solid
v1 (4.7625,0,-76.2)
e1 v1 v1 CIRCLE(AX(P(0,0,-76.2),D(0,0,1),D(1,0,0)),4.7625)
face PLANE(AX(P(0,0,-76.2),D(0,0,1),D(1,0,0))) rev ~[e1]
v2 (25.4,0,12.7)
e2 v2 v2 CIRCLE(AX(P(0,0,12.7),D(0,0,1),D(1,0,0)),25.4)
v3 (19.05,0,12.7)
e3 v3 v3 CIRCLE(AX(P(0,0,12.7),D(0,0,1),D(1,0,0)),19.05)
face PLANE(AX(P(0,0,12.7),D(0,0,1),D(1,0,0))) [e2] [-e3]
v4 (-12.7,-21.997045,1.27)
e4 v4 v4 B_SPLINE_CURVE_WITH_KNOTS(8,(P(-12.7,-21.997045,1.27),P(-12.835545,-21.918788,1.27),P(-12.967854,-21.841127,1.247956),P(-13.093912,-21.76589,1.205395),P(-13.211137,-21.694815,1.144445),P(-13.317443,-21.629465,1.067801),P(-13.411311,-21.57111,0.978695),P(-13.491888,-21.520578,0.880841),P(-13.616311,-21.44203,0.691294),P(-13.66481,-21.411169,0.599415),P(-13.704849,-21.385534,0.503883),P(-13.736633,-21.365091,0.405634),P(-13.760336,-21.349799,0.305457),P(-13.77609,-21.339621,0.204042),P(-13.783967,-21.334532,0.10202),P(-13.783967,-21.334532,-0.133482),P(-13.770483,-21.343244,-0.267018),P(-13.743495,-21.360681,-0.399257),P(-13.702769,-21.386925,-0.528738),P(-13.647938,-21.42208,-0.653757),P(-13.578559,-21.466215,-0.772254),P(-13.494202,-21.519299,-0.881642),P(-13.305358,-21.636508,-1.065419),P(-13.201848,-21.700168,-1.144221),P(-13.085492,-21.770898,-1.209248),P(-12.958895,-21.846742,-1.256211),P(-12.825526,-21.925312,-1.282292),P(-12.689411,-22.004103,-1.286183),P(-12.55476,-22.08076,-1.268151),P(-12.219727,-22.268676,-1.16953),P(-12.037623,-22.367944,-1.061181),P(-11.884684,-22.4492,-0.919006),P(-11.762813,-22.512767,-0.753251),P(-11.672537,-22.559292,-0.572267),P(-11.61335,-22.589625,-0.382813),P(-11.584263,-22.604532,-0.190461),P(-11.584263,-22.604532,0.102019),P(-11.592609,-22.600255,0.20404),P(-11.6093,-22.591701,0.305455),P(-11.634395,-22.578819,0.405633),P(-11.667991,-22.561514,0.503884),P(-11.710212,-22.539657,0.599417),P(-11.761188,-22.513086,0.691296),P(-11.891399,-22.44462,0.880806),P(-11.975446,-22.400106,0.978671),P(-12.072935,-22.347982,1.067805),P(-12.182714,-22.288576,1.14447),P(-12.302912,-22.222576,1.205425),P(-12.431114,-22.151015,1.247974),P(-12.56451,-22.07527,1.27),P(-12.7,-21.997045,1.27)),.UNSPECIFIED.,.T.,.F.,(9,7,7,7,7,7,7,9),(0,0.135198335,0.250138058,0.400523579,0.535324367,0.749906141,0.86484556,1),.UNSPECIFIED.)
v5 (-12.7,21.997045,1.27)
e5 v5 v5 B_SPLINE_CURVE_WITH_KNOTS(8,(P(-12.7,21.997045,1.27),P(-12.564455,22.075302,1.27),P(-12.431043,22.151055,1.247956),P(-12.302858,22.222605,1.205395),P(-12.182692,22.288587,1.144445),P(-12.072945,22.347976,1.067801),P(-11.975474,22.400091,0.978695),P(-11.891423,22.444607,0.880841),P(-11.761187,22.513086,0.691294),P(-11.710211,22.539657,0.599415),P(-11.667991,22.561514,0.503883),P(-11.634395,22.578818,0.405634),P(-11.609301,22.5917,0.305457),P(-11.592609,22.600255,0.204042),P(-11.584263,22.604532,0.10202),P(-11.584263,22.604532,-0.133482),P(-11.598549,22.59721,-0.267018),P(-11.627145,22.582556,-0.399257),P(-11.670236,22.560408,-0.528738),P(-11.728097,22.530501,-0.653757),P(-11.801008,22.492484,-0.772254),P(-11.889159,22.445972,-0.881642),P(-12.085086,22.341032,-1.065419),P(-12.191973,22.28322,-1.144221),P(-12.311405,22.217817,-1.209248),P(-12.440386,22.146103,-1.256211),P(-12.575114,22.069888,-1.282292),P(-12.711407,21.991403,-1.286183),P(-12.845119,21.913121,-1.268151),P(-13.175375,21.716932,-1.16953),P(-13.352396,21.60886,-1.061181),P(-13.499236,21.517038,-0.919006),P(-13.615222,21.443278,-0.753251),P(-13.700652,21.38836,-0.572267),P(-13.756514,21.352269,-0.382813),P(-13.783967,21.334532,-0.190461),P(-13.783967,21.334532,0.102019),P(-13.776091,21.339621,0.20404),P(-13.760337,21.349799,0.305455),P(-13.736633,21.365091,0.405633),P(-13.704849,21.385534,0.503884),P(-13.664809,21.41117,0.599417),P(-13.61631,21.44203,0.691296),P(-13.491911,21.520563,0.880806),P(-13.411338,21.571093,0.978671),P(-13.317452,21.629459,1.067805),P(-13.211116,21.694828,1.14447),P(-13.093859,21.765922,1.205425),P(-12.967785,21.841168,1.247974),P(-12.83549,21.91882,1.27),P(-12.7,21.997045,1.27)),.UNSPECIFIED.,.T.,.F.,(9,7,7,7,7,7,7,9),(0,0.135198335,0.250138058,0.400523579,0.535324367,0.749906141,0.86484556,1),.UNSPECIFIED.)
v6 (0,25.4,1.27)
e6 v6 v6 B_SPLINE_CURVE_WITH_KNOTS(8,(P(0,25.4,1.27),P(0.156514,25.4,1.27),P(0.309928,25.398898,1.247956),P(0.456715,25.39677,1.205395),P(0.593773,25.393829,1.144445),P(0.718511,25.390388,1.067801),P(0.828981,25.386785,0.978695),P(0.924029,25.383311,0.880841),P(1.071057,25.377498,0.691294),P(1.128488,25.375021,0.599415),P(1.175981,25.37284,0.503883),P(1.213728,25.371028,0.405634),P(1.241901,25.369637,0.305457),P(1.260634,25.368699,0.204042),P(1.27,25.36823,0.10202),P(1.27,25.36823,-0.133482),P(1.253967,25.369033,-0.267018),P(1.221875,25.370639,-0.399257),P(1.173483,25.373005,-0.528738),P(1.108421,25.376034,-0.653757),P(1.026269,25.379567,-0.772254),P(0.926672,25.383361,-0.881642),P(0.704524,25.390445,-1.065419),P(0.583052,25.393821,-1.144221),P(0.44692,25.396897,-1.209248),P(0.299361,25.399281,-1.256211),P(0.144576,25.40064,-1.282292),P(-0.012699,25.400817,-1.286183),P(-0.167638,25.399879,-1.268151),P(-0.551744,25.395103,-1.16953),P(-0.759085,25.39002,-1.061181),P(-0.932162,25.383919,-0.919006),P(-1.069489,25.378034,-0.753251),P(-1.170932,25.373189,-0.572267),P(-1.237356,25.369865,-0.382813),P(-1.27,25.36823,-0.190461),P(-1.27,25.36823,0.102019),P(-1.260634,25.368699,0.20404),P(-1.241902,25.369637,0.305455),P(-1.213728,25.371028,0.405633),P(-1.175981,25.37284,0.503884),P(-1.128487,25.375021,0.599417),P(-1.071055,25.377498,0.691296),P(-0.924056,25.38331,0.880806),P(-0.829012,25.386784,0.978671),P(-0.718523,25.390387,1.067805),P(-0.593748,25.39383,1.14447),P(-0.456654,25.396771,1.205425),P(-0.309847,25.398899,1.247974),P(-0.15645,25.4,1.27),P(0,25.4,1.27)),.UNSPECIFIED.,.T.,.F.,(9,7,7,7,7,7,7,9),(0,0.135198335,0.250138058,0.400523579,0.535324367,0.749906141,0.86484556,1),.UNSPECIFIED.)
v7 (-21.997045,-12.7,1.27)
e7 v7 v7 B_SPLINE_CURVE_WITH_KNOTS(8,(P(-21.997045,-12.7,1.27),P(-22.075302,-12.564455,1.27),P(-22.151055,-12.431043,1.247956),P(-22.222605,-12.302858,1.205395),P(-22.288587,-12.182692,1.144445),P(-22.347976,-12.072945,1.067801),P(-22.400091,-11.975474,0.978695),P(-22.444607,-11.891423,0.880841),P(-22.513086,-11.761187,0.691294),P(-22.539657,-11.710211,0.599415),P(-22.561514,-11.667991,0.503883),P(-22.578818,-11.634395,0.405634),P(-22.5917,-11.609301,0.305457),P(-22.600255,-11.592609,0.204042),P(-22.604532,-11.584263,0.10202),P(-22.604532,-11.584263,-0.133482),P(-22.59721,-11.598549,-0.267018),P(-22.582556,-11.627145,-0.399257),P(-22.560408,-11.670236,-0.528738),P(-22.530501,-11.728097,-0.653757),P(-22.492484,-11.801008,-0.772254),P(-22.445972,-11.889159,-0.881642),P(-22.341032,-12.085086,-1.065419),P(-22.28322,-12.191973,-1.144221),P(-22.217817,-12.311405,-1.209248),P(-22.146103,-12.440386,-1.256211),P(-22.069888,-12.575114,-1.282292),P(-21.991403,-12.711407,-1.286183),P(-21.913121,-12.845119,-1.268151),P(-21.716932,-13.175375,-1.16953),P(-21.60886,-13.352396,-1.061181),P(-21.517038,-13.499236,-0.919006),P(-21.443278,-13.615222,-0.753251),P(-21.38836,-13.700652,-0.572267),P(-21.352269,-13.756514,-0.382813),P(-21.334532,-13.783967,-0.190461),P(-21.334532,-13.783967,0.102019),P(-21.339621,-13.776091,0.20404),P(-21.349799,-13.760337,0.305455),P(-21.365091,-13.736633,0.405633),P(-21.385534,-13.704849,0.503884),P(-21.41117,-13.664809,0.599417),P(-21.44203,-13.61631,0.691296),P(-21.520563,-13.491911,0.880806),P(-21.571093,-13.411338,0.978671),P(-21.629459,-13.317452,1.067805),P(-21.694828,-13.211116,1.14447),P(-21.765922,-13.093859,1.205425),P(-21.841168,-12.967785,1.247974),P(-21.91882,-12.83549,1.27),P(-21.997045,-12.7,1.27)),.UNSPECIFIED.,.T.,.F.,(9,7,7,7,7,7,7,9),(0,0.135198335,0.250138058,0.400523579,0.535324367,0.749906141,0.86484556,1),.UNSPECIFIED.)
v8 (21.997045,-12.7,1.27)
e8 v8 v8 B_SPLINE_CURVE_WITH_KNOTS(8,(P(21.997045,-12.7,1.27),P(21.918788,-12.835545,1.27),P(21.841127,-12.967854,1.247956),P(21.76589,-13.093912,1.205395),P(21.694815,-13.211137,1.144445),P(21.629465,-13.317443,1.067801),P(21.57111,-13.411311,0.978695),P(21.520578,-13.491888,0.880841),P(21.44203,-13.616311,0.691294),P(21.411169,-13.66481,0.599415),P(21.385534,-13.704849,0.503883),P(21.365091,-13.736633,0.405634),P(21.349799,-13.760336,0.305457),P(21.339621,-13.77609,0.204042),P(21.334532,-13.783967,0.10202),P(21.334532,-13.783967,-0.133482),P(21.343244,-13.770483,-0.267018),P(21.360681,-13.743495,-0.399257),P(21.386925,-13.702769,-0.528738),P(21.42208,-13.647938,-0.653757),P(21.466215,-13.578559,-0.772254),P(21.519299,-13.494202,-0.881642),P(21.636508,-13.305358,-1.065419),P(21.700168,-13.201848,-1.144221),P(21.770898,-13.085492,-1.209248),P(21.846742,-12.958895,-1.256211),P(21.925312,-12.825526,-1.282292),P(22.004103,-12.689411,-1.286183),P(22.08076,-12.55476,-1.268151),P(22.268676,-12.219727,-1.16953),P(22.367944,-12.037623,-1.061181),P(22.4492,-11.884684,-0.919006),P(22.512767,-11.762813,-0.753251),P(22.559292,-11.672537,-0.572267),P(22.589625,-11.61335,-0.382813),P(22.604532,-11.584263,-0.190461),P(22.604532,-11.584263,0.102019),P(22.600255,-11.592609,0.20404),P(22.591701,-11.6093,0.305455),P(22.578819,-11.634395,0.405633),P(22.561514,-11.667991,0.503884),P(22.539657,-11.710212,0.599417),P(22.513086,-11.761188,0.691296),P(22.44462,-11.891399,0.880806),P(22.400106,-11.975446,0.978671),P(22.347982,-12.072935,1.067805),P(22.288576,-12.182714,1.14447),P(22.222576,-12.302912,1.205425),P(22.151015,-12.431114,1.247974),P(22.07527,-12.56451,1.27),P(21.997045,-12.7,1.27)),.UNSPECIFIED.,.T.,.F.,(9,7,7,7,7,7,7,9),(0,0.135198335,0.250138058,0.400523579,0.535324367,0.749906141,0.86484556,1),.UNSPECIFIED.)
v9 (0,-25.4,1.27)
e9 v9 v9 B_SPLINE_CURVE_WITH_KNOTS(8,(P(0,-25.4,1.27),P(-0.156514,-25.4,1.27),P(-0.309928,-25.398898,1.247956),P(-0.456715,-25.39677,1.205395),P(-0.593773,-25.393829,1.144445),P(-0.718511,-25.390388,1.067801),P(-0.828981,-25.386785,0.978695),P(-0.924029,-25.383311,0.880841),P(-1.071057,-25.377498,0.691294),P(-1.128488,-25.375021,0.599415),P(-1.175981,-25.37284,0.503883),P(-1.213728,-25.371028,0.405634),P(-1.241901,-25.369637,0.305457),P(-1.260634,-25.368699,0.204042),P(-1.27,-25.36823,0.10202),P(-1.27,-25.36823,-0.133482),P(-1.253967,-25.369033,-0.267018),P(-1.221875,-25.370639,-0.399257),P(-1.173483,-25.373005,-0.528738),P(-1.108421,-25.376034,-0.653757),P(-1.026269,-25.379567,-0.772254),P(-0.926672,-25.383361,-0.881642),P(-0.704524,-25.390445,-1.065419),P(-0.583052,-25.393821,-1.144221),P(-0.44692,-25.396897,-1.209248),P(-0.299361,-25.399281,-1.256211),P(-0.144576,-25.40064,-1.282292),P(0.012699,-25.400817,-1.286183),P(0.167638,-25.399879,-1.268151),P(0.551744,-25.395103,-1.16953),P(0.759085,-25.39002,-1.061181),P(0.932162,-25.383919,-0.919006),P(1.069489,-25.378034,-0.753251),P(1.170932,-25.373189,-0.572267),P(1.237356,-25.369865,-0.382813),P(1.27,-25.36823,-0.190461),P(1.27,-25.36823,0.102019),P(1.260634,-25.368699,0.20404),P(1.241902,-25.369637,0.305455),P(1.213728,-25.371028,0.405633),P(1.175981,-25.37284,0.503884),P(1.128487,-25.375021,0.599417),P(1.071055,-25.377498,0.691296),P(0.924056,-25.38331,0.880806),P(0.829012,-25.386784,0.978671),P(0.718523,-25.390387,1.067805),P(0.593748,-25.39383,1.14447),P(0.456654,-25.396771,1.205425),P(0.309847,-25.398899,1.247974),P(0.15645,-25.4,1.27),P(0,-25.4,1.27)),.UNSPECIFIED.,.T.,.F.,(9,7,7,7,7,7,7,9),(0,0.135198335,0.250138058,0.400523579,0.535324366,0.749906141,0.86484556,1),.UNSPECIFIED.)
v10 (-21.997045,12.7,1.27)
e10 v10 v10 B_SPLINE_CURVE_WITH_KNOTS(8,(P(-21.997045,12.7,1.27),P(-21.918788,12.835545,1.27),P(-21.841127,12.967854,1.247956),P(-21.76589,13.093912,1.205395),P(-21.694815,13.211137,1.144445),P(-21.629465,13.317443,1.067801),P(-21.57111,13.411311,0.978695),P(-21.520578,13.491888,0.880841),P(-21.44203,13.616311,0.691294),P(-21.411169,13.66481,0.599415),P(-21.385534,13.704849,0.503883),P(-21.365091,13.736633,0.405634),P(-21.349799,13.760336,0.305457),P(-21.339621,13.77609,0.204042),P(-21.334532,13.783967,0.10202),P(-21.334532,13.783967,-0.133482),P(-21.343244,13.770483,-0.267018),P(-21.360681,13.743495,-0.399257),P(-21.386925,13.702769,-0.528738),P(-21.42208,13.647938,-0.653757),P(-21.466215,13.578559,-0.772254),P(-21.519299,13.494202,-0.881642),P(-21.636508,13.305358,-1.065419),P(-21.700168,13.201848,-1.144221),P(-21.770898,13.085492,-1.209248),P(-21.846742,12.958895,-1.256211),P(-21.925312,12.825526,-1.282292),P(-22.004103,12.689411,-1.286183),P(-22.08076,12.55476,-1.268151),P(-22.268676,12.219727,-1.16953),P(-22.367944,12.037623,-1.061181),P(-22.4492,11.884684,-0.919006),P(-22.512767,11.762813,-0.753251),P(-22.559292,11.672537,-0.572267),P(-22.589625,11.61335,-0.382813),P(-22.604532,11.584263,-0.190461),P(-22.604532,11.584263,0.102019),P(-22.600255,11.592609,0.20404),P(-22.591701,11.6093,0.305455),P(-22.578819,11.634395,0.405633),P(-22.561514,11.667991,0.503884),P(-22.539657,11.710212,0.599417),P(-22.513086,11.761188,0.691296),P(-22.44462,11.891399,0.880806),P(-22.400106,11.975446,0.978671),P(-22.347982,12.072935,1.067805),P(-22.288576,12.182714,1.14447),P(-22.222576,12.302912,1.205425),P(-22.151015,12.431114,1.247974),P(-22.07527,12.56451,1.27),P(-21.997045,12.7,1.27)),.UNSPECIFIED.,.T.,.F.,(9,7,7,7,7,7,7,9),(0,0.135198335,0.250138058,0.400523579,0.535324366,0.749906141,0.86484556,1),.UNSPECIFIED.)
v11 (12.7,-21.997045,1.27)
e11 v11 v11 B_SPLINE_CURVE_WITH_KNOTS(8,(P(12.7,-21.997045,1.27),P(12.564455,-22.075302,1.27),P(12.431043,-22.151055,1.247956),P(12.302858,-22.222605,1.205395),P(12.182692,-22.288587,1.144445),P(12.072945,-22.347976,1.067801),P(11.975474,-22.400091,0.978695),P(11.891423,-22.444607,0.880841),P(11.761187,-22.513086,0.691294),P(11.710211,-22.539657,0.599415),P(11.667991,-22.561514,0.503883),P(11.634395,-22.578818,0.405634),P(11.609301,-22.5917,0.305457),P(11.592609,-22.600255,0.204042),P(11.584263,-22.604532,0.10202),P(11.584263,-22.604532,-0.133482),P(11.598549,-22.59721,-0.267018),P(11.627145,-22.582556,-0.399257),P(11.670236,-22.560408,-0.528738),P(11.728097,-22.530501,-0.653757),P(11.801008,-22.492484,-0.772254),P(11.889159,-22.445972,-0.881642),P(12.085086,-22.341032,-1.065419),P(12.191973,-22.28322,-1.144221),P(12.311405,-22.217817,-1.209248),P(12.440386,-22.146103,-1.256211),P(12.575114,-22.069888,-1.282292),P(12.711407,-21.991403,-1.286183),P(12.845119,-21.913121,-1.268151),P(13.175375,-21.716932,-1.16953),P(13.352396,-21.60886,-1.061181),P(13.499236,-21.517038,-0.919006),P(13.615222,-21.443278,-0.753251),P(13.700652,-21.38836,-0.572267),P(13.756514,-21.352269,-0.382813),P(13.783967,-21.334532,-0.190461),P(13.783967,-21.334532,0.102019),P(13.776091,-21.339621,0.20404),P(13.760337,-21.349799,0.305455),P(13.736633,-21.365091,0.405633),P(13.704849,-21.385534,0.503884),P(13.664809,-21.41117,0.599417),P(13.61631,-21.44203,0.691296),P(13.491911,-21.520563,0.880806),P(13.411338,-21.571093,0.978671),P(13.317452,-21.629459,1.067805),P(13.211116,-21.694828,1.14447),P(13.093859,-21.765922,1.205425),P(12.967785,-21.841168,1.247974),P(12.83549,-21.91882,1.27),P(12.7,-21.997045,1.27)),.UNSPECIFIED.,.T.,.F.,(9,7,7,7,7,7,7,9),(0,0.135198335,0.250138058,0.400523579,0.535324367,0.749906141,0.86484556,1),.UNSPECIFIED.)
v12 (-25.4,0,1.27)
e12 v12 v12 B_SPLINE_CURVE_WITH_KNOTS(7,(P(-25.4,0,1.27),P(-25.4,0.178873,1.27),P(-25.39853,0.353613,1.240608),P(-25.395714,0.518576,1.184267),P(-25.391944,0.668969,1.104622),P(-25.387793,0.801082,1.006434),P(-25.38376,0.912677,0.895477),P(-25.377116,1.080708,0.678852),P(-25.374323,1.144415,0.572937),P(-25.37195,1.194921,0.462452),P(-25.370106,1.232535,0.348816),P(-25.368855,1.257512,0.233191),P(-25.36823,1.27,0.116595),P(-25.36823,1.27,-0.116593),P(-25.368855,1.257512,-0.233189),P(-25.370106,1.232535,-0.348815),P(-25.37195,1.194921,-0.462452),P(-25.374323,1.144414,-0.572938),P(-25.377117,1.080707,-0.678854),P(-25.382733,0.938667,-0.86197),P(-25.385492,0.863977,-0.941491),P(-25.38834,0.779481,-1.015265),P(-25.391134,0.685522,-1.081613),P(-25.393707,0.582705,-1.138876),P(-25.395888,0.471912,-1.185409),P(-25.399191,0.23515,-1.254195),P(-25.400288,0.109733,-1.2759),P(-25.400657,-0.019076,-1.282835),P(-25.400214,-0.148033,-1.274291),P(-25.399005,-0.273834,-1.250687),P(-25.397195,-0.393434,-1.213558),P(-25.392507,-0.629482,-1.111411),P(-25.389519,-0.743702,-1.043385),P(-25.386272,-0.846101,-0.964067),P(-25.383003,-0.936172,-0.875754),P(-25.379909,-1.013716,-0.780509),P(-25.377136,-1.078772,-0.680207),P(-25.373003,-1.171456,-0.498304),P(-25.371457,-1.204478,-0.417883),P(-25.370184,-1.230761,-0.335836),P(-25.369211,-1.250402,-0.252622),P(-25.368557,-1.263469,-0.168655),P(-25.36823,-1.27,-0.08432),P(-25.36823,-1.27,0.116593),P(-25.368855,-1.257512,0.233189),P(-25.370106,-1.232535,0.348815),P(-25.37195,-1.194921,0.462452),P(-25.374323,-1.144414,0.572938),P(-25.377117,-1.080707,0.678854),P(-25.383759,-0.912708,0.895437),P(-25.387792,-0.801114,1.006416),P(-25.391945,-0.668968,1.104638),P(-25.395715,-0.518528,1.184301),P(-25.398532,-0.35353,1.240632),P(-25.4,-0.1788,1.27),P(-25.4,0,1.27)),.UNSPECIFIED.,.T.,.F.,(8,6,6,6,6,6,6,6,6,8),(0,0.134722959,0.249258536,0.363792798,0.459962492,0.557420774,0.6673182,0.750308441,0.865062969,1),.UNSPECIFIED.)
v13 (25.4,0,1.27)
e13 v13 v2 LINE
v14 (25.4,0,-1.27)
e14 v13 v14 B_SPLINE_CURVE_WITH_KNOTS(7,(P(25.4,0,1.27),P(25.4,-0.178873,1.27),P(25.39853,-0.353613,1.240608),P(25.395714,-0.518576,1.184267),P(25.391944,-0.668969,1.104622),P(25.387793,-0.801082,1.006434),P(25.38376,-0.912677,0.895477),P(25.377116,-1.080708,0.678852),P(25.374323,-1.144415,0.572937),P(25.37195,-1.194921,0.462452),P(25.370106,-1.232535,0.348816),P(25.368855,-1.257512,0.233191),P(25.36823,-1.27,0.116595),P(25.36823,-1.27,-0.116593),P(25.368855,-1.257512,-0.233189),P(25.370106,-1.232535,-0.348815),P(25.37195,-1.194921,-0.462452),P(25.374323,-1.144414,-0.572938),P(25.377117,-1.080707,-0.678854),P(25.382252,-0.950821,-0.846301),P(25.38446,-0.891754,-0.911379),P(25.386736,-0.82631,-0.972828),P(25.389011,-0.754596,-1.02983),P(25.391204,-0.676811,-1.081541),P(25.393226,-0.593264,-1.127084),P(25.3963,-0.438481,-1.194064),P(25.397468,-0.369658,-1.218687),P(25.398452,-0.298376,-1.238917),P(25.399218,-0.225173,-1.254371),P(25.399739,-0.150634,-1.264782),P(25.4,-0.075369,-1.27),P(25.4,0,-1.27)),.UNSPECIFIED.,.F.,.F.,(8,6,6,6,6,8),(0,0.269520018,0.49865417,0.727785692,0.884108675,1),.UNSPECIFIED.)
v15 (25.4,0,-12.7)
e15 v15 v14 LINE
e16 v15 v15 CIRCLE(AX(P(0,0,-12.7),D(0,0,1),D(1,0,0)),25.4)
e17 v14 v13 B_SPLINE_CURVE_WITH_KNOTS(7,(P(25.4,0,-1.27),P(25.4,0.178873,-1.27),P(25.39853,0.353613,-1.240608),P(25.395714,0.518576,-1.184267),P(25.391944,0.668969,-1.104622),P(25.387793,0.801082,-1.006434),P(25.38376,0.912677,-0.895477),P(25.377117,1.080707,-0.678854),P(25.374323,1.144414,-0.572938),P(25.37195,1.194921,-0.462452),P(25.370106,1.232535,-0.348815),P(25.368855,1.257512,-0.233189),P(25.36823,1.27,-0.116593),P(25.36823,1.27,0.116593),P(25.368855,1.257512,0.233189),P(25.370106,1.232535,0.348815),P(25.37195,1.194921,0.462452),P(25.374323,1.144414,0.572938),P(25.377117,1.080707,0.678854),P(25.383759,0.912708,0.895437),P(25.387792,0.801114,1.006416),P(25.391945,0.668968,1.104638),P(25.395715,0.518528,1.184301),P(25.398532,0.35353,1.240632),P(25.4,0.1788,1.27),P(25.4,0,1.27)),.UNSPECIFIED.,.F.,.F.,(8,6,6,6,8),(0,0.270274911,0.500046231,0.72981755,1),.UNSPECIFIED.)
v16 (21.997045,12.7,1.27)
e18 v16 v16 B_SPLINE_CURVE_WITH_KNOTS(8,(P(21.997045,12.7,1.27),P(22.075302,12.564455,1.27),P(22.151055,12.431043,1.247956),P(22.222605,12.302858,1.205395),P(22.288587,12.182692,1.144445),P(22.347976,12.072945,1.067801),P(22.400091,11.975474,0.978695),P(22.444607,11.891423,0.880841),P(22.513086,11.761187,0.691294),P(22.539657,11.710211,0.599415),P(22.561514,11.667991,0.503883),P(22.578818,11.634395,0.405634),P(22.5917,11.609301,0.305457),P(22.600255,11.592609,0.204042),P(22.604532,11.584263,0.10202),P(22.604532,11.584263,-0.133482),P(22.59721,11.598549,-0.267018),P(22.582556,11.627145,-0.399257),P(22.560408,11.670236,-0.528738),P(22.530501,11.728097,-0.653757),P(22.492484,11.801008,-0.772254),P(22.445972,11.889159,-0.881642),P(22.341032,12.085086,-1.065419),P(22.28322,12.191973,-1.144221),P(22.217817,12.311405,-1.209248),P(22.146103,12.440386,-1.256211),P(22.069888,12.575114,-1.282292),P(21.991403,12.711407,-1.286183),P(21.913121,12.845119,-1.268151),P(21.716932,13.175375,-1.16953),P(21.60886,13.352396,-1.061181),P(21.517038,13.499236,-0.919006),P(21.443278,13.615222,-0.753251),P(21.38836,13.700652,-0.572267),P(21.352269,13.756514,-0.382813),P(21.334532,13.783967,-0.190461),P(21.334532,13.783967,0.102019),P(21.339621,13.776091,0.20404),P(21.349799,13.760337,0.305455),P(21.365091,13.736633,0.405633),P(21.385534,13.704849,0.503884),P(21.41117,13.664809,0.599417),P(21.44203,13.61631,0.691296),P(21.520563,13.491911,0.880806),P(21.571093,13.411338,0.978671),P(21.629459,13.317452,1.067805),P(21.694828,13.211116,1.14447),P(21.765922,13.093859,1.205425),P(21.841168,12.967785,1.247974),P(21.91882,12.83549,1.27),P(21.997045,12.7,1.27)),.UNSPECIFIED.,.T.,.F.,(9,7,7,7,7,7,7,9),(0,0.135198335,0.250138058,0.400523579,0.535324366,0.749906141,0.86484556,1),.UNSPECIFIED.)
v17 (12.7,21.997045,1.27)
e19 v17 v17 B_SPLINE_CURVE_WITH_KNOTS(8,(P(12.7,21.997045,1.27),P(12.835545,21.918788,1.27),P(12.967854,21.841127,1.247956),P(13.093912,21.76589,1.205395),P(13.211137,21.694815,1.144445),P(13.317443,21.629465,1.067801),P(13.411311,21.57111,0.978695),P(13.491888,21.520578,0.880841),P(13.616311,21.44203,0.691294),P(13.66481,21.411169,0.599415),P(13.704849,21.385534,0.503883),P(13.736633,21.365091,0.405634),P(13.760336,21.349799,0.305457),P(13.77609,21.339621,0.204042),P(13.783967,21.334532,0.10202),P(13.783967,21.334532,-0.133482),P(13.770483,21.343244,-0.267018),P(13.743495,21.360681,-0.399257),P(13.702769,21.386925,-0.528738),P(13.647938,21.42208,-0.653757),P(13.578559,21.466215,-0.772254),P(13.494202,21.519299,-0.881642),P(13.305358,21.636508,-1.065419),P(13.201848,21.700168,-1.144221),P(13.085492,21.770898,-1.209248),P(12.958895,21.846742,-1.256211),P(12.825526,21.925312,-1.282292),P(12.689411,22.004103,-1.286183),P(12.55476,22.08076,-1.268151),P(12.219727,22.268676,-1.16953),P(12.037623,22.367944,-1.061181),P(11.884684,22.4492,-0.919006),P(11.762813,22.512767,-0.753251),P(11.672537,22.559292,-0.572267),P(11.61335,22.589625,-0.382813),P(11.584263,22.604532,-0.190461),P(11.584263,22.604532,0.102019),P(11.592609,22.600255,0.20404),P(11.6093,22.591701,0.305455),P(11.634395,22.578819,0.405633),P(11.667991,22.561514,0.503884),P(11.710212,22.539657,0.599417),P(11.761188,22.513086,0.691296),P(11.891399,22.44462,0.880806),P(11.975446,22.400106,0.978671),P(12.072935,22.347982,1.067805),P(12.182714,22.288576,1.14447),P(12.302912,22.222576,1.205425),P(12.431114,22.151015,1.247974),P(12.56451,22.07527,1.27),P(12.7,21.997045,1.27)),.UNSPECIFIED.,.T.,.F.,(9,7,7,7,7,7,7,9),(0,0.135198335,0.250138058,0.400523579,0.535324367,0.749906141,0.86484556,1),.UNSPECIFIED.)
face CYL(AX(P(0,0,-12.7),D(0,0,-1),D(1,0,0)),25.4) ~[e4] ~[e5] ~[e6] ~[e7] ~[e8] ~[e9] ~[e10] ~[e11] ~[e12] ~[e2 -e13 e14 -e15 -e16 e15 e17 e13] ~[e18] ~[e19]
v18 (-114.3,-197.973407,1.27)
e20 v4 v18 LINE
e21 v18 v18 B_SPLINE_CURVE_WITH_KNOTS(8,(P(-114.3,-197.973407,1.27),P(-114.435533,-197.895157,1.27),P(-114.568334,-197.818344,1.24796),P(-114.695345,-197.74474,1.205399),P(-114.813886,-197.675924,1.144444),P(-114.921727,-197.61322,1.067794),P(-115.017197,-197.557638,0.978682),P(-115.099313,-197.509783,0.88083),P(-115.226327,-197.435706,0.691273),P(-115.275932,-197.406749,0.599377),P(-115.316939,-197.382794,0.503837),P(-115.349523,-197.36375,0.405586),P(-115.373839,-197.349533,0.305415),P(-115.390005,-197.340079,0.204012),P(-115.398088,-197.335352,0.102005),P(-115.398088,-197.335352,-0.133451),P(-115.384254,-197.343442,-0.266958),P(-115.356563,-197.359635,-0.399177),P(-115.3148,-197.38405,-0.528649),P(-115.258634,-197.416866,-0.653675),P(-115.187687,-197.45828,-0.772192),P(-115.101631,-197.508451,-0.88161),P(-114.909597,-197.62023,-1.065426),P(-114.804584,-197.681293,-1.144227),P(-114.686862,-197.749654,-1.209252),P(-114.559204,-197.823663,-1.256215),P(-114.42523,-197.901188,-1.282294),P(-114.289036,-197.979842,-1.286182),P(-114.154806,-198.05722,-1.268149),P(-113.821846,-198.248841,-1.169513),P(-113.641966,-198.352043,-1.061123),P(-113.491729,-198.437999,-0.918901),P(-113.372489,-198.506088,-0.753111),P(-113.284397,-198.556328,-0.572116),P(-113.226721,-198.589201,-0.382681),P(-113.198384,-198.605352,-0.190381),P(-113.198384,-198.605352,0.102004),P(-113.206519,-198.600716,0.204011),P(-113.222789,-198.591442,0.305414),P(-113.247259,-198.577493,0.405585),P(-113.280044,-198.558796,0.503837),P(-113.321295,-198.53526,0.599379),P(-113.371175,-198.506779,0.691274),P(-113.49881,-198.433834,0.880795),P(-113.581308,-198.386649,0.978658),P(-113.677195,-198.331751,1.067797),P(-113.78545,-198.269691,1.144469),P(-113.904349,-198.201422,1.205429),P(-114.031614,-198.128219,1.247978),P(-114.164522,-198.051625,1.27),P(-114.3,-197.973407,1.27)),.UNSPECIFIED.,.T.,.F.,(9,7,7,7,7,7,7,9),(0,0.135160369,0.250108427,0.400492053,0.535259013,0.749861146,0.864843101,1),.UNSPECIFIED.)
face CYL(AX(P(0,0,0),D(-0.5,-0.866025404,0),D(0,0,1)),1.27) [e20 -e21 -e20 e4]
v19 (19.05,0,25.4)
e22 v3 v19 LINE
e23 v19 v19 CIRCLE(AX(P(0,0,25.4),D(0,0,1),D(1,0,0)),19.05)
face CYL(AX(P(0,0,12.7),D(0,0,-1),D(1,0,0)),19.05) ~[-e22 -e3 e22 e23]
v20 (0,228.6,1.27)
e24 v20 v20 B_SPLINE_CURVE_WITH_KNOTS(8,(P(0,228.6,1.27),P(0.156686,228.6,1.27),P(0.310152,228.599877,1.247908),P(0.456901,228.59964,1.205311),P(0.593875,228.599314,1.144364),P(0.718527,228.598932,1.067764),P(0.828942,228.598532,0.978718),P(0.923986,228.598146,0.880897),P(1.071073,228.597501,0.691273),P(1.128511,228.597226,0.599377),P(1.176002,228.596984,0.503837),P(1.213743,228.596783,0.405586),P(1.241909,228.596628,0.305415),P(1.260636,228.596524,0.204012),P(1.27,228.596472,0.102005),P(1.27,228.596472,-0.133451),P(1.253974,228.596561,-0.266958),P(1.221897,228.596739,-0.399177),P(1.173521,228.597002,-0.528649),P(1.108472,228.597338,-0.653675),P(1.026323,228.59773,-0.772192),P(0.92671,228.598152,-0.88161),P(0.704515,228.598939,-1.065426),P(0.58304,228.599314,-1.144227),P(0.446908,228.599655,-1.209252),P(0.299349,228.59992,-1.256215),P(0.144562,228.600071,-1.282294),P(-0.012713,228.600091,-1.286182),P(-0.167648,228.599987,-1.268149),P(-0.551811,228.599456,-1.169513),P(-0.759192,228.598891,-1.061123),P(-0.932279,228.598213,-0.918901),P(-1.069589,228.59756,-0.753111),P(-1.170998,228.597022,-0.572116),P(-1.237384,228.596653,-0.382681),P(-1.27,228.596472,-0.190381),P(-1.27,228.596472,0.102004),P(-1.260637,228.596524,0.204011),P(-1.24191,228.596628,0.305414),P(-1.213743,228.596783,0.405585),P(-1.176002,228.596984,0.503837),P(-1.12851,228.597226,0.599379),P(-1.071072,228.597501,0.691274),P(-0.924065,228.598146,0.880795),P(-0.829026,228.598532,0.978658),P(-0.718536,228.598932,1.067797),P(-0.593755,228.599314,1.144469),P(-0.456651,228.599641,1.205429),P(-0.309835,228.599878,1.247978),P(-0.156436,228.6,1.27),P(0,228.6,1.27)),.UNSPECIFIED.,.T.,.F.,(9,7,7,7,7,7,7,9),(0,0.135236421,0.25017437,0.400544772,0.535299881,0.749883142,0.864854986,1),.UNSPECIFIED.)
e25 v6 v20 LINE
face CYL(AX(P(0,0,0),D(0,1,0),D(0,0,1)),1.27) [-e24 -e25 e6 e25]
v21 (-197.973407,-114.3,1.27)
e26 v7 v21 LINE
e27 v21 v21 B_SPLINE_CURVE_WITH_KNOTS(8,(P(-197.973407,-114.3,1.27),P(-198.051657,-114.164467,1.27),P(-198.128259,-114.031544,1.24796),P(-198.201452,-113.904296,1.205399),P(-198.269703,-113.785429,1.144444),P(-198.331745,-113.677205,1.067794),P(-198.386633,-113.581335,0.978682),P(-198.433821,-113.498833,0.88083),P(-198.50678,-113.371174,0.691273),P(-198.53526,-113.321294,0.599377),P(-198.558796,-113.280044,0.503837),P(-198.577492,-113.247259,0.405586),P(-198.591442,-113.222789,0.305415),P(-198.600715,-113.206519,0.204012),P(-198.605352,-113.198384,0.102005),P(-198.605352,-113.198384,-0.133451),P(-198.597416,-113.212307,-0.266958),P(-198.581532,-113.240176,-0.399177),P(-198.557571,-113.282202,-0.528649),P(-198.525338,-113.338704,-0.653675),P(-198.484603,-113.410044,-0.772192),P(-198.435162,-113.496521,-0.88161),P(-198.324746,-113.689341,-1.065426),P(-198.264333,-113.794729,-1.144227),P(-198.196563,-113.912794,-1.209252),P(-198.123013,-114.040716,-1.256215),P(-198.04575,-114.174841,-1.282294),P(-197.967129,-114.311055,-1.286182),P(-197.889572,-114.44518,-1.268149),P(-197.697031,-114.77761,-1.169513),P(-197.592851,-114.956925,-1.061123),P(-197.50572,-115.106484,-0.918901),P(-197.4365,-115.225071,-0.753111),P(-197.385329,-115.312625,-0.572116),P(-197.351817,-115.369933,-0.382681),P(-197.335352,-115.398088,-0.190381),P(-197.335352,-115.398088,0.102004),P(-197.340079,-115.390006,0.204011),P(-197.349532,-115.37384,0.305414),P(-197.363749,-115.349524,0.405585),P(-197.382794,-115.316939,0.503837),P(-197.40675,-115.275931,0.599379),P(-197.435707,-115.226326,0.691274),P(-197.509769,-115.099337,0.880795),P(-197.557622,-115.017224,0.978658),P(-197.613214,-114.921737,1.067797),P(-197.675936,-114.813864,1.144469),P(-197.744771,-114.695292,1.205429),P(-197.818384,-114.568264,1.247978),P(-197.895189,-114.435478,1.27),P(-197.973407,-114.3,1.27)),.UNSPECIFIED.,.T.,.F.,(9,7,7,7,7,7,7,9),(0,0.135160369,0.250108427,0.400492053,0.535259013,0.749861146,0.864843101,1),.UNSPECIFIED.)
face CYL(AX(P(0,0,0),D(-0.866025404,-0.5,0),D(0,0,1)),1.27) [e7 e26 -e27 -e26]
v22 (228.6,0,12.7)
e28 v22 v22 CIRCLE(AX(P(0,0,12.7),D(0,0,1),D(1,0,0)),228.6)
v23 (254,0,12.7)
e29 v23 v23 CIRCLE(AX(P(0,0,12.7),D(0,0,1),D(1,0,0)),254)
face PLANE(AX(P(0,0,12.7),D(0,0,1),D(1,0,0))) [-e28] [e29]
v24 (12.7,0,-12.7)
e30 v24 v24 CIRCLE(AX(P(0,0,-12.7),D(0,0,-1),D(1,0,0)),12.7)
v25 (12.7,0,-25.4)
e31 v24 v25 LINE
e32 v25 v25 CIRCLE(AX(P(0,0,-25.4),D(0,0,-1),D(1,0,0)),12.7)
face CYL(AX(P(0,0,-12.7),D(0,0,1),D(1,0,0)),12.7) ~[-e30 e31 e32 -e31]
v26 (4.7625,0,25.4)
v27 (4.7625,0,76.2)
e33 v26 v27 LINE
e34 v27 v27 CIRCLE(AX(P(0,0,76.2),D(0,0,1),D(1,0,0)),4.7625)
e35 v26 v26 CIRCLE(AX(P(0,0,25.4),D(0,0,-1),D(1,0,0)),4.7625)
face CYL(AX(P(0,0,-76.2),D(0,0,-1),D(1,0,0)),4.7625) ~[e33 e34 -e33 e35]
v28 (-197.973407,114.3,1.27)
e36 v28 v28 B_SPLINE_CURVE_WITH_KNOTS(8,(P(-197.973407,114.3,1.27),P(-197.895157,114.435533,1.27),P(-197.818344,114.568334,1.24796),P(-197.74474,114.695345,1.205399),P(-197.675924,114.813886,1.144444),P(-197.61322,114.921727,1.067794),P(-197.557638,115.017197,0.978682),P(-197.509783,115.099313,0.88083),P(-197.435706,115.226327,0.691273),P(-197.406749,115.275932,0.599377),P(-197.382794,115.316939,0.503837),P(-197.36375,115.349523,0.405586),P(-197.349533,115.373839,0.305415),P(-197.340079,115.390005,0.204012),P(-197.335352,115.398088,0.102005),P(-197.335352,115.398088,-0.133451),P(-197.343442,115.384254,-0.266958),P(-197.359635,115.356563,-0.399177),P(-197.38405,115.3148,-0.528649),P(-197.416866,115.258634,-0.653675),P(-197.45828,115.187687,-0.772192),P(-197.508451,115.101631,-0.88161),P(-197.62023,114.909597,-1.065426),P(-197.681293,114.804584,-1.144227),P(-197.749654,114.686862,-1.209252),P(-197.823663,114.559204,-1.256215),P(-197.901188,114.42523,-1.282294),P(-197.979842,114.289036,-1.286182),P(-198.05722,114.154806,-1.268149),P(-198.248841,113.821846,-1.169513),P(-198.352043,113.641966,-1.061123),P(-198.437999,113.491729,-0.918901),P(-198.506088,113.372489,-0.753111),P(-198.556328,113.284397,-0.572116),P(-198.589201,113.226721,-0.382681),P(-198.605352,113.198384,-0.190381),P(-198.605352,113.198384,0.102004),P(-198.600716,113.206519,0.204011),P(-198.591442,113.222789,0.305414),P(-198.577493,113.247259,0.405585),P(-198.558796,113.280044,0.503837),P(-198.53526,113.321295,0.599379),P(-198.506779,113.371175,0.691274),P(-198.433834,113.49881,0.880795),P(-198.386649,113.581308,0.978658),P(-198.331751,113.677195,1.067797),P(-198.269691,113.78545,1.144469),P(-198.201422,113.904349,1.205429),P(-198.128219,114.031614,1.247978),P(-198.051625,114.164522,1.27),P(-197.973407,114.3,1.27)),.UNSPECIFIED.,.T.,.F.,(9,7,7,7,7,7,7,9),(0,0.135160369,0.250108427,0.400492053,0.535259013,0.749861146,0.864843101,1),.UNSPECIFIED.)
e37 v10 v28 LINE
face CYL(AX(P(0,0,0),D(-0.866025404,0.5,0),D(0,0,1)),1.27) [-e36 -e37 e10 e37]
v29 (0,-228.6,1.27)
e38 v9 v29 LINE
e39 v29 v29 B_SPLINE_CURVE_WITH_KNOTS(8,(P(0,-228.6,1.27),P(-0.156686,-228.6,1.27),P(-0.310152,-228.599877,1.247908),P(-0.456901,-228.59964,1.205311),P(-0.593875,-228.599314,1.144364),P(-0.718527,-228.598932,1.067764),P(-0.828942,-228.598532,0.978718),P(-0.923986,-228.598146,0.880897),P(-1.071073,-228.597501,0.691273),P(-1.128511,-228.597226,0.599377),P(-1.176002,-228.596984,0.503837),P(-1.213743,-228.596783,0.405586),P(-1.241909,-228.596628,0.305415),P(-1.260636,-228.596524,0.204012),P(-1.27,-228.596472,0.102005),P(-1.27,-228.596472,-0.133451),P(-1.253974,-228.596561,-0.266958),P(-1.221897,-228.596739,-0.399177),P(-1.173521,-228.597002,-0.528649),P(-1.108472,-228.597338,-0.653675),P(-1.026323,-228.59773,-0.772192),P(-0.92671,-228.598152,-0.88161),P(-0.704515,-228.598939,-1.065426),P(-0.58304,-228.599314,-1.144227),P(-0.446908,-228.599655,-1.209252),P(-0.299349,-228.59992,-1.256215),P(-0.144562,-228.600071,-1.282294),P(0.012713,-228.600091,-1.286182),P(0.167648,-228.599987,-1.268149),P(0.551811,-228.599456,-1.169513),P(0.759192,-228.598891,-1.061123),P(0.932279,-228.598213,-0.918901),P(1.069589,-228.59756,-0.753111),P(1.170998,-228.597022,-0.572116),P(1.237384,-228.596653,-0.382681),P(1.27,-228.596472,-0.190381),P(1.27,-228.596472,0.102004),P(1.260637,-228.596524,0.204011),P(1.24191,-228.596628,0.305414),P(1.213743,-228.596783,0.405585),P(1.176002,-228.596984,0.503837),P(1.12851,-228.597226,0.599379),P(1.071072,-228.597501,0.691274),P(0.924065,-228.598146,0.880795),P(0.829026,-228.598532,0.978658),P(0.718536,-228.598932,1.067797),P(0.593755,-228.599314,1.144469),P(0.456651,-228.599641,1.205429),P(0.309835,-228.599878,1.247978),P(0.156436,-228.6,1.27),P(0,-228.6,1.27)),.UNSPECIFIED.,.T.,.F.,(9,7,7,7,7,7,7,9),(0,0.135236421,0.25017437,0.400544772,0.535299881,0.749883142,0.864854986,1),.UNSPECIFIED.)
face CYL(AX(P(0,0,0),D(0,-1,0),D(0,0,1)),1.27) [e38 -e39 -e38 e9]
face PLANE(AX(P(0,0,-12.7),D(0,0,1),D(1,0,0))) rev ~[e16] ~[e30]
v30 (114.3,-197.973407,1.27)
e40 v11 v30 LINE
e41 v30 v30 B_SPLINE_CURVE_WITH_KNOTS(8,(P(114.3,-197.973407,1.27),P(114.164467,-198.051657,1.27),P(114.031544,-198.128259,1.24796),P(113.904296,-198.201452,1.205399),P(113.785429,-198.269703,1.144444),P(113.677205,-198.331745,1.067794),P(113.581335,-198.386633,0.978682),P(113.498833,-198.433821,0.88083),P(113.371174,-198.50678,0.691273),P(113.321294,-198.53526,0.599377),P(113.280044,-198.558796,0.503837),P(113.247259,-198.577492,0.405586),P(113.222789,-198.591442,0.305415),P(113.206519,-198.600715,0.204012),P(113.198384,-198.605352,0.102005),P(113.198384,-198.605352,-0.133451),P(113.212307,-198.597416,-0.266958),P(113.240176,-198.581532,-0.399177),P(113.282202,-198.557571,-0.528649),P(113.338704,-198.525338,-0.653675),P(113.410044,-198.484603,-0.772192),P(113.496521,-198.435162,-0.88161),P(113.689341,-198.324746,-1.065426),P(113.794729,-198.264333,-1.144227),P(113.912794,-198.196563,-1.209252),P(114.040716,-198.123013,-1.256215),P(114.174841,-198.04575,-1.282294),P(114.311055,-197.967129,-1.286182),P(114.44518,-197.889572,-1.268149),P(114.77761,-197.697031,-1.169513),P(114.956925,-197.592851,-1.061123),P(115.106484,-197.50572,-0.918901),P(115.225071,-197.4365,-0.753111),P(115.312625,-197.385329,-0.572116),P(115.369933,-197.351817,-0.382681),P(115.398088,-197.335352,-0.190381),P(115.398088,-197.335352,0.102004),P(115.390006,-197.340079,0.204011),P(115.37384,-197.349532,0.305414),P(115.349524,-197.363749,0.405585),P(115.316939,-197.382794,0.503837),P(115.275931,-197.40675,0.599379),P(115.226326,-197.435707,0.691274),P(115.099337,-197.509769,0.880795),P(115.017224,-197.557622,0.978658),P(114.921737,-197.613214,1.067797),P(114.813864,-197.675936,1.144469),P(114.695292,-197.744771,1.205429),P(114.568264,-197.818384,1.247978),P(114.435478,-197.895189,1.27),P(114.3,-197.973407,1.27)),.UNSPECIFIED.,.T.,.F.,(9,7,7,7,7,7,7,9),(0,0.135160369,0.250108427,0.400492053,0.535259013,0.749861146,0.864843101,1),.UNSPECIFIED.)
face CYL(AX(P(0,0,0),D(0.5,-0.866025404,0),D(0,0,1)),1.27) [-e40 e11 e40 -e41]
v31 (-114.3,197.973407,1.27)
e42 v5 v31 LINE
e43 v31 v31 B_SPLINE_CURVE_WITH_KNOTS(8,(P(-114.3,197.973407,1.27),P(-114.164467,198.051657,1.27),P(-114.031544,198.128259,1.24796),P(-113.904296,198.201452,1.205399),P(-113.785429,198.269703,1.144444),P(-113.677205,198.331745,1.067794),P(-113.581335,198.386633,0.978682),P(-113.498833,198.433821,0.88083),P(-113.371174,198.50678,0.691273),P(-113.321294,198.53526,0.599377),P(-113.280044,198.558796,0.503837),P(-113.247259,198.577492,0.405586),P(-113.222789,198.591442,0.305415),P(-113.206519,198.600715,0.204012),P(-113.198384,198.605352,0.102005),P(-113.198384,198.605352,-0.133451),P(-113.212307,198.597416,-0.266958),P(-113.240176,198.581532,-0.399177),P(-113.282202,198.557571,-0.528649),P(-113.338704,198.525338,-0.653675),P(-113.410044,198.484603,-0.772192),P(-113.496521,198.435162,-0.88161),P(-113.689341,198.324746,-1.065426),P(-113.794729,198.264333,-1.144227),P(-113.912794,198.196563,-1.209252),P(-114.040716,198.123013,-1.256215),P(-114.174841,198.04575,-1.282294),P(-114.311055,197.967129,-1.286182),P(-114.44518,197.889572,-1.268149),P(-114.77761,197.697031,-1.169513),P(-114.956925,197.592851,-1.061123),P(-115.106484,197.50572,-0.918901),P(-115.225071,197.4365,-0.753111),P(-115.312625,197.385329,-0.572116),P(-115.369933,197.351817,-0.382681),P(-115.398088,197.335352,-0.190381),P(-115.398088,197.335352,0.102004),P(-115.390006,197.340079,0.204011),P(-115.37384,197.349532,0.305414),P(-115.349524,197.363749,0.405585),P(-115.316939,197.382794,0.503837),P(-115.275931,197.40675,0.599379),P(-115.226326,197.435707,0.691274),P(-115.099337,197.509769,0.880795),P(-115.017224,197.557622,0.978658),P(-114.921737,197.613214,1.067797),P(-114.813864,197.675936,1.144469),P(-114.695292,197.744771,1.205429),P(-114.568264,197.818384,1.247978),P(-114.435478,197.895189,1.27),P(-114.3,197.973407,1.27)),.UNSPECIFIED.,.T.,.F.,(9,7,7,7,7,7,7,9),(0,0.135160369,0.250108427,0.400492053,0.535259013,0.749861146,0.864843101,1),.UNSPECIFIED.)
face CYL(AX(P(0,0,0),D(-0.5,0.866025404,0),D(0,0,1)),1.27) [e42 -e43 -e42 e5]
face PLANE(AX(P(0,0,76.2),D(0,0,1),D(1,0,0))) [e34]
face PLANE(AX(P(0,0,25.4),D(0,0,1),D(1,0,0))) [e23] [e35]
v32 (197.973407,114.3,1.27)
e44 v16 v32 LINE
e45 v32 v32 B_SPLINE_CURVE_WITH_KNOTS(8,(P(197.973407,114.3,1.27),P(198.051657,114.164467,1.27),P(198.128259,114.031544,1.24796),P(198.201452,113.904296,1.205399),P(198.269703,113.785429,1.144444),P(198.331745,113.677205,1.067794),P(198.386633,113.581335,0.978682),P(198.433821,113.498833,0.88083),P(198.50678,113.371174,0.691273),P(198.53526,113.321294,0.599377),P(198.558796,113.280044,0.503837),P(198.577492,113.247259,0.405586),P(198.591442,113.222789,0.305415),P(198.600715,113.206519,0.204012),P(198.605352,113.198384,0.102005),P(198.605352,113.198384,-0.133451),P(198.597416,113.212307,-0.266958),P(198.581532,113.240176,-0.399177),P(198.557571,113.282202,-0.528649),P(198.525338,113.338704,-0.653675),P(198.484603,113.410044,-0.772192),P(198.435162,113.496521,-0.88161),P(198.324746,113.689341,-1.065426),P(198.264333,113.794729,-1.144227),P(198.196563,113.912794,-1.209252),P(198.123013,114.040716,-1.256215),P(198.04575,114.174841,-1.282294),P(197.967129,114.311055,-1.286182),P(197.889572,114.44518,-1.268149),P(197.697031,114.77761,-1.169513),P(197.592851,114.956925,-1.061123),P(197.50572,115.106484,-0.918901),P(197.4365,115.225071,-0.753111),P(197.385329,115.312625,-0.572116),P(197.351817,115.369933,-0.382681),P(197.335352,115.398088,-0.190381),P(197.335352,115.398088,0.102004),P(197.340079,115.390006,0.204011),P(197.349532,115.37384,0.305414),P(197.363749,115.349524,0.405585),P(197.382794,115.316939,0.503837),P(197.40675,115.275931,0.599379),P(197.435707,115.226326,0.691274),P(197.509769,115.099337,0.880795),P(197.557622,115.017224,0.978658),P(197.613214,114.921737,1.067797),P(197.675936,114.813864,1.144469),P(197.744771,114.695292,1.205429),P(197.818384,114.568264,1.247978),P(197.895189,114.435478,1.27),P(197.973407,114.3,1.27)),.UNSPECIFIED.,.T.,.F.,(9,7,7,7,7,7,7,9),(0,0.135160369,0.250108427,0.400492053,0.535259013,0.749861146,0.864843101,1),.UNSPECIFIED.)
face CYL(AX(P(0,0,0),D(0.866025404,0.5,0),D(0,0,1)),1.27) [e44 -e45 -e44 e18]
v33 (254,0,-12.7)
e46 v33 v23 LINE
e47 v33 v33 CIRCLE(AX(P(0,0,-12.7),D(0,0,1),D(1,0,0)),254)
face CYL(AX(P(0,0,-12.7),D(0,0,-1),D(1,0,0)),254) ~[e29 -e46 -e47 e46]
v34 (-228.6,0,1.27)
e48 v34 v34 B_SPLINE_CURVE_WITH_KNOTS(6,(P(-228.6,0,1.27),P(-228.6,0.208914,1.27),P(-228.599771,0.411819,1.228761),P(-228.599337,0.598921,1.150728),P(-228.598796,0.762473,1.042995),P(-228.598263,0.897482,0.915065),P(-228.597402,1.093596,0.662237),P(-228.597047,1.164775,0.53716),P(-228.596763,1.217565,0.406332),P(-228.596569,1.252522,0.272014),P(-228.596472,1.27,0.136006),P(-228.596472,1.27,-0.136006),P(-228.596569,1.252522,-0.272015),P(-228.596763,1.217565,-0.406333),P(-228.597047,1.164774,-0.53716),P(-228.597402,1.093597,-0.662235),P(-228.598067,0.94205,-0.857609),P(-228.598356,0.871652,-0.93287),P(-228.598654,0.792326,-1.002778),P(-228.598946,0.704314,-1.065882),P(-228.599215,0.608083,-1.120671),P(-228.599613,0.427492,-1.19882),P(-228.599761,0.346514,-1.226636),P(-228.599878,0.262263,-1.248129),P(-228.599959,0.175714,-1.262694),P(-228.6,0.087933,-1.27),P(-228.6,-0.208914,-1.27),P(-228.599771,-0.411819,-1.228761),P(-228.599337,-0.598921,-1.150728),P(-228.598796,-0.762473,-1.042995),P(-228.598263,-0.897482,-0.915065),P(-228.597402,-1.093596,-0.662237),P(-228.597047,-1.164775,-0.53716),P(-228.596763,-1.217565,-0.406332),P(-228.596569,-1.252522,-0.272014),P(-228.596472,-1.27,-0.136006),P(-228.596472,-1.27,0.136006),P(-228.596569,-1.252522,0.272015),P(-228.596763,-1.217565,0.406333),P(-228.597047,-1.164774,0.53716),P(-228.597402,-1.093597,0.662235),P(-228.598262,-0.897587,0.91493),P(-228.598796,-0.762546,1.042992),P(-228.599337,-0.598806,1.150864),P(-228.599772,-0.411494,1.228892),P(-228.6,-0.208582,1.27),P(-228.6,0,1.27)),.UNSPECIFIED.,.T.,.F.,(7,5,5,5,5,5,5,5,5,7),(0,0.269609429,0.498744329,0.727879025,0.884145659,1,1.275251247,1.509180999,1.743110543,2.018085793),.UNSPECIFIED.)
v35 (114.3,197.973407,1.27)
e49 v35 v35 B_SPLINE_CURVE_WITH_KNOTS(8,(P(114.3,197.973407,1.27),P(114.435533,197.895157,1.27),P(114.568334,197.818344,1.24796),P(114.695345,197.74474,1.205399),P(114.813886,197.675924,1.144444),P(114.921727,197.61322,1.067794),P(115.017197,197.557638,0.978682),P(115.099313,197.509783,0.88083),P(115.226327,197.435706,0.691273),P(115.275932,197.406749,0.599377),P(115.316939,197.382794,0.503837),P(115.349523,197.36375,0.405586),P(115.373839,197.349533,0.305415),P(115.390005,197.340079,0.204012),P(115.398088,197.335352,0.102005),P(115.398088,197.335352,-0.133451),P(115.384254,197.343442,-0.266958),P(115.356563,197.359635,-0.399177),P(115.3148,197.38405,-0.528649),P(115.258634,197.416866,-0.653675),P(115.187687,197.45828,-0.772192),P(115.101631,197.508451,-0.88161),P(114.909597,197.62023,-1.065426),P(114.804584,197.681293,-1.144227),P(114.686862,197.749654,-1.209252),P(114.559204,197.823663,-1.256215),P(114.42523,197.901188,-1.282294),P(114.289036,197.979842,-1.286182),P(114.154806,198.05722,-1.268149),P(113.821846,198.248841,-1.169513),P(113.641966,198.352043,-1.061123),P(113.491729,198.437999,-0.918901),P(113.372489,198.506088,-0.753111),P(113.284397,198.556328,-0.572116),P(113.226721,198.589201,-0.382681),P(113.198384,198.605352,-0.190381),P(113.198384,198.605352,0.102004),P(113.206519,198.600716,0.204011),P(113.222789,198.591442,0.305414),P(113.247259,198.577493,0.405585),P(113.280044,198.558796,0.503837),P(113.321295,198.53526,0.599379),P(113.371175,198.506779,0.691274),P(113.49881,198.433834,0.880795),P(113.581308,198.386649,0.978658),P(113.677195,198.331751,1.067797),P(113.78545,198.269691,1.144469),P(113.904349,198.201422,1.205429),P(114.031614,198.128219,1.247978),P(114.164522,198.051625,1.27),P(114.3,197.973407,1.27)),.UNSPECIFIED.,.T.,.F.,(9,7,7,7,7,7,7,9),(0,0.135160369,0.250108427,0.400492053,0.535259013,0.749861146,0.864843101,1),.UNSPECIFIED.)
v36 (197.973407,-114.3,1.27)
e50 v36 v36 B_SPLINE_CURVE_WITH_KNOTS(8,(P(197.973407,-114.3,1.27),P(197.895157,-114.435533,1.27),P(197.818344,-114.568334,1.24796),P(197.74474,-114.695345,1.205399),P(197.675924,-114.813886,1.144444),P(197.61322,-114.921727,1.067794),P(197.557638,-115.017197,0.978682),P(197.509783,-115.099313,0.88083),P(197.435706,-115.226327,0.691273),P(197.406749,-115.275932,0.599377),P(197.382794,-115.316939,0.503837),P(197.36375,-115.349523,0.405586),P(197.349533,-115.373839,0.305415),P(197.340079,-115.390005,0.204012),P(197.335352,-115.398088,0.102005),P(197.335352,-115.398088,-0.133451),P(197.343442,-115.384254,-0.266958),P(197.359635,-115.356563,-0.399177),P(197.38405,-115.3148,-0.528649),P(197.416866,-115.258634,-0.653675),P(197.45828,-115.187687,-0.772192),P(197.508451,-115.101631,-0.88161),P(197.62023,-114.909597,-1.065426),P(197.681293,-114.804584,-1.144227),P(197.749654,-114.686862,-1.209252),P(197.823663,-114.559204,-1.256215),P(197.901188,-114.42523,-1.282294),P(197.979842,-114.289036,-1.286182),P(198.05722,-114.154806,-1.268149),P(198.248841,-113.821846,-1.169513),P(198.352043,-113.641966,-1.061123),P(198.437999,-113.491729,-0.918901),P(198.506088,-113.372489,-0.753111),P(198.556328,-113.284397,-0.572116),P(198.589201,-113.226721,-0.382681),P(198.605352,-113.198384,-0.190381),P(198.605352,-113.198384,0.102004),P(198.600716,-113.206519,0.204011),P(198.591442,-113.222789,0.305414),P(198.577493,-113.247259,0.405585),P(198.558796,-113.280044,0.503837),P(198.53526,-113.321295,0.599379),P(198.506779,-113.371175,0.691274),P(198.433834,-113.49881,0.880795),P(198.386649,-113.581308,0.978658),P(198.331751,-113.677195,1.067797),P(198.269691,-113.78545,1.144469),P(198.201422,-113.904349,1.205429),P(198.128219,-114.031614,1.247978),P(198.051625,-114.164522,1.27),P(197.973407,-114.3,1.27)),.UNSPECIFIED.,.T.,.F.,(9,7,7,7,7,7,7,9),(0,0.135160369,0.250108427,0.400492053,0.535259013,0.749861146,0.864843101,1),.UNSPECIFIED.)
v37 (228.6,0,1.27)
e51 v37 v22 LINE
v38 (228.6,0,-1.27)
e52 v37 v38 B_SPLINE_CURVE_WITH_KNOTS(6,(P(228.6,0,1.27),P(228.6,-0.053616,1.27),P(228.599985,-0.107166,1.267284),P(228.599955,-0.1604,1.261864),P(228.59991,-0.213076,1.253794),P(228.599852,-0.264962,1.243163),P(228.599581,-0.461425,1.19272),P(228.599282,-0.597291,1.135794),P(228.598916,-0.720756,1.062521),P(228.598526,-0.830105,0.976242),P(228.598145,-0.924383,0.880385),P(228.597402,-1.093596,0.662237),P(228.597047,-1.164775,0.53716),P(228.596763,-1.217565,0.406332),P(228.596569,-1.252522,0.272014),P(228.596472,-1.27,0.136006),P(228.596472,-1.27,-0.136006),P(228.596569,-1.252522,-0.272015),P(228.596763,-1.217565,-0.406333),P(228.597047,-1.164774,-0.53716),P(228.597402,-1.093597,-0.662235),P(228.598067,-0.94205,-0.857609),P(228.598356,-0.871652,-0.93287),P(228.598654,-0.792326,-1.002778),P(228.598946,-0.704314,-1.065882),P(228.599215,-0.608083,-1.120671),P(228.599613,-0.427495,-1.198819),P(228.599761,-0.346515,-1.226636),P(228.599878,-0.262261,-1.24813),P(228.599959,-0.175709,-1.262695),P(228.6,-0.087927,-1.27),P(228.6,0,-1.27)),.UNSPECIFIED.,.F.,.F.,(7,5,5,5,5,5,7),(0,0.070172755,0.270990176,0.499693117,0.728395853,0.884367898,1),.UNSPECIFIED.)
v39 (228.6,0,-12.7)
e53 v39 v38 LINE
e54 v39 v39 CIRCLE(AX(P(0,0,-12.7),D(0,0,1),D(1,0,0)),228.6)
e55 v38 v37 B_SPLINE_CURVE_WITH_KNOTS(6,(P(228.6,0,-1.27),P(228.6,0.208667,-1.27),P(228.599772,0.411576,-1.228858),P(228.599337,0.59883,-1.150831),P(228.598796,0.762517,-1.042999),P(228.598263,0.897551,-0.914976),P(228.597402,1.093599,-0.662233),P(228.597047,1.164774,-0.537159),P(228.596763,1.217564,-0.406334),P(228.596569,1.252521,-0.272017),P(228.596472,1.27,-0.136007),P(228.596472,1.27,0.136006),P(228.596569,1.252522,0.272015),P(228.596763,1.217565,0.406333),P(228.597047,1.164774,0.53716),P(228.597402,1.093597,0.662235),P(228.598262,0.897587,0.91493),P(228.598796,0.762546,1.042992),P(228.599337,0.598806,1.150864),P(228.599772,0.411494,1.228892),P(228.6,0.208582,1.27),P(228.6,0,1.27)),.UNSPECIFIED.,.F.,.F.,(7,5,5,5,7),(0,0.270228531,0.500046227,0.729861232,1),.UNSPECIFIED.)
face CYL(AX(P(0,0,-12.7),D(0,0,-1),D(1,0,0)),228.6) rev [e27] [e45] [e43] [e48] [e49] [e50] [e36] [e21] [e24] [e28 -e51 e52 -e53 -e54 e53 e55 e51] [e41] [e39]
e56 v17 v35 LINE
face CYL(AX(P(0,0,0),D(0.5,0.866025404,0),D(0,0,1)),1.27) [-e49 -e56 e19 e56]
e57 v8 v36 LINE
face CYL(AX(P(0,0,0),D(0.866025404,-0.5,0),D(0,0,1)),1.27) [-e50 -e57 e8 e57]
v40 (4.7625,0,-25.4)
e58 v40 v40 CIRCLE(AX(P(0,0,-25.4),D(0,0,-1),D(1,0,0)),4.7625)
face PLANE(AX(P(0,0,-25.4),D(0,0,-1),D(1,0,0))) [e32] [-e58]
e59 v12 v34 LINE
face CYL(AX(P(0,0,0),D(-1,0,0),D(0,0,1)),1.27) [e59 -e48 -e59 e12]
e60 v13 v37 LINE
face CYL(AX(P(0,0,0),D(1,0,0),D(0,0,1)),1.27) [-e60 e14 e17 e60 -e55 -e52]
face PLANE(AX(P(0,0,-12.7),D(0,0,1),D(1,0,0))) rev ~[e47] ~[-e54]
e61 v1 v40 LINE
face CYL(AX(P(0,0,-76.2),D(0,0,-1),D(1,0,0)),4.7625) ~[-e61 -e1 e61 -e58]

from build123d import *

# Parameters (mm, degrees)
BOSS_EXTRUDE1_DEPTH      = 12.7
BOSS_EXTRUDE1_DEPTH_BACK = 12.7
SKETCH1_R                = 25.4
SWEEP1_PROFILE_R         = 1.27
CIRPATTERN1_COUNT        = 12
BOSS_EXTRUDE2_DEPTH      = 12.7
BOSS_EXTRUDE2_DEPTH_BACK = 12.7
SKETCH43_R               = 254
SKETCH43_R_2             = 228.6
SKETCH44_R               = 19.05
BOSS_EXTRUDE3_DEPTH      = 12.7
SKETCH46_R               = 12.7
BOSS_EXTRUDE4_DEPTH      = 12.7
BOSS_EXTRUDE5_DEPTH      = 76.2
BOSS_EXTRUDE5_DEPTH_BACK = 76.2
SKETCH47_R               = 4.7625


with BuildPart() as part:
    # Sketch1 → Boss-Extrude1 (new, two sides: drawn at the far end of the back side and taken through both)
    with BuildSketch(Plane.XY.offset(-BOSS_EXTRUDE1_DEPTH_BACK)):
        Circle(SKETCH1_R)
    extrude(amount=BOSS_EXTRUDE1_DEPTH + BOSS_EXTRUDE1_DEPTH_BACK)

    # Sweep1: sweep along a path in Sketch2
    with BuildLine(Plane.XY) as sweep1_path:
        Line((0, 0), (228.6, 0))
    # Sweep1 profile (on start of the path) → Sweep1 (sweep)
    with BuildSketch(Plane(origin=(0, 0, 0), x_dir=(0, 0, 1), z_dir=(1, 0, 0))):
        Circle(SWEEP1_PROFILE_R)
    sweep1 = sweep(path=sweep1_path.line)

    # CirPattern1: Sweep1 ×12 about axis
    cirpattern1_axis = Axis((0, 0, 12.7), (0, 0, 1))
    for i in range(1, CIRPATTERN1_COUNT):
        add(sweep1.rotate(cirpattern1_axis, i * 360 / CIRPATTERN1_COUNT))

    # Sketch43 → Boss-Extrude2 (add, two sides: drawn at the far end of the back side and taken through both)
    with BuildSketch(Plane.XY.offset(-BOSS_EXTRUDE2_DEPTH_BACK)):
        Circle(SKETCH43_R)
        Circle(SKETCH43_R_2, mode=Mode.SUBTRACT)
    extrude(amount=BOSS_EXTRUDE2_DEPTH + BOSS_EXTRUDE2_DEPTH_BACK)

    # Sketch44 → Boss-Extrude3 (add)
    with BuildSketch(Plane.XY.offset(12.7)):
        Circle(SKETCH44_R)
    extrude(amount=BOSS_EXTRUDE3_DEPTH)

    # Sketch46 → Boss-Extrude4 (add)
    with BuildSketch(Plane(origin=(0, 0, -12.7), x_dir=(-1, 0, 0), z_dir=(0, 0, -1))):
        Circle(SKETCH46_R)
    extrude(amount=BOSS_EXTRUDE4_DEPTH)

    # Sketch47 → Boss-Extrude5 (add, two sides: drawn at the far end of the back side and taken through both)
    with BuildSketch(Plane.XY.offset(-BOSS_EXTRUDE5_DEPTH_BACK)):
        Circle(SKETCH47_R)
    extrude(amount=BOSS_EXTRUDE5_DEPTH + BOSS_EXTRUDE5_DEPTH_BACK)


solid = part.part
